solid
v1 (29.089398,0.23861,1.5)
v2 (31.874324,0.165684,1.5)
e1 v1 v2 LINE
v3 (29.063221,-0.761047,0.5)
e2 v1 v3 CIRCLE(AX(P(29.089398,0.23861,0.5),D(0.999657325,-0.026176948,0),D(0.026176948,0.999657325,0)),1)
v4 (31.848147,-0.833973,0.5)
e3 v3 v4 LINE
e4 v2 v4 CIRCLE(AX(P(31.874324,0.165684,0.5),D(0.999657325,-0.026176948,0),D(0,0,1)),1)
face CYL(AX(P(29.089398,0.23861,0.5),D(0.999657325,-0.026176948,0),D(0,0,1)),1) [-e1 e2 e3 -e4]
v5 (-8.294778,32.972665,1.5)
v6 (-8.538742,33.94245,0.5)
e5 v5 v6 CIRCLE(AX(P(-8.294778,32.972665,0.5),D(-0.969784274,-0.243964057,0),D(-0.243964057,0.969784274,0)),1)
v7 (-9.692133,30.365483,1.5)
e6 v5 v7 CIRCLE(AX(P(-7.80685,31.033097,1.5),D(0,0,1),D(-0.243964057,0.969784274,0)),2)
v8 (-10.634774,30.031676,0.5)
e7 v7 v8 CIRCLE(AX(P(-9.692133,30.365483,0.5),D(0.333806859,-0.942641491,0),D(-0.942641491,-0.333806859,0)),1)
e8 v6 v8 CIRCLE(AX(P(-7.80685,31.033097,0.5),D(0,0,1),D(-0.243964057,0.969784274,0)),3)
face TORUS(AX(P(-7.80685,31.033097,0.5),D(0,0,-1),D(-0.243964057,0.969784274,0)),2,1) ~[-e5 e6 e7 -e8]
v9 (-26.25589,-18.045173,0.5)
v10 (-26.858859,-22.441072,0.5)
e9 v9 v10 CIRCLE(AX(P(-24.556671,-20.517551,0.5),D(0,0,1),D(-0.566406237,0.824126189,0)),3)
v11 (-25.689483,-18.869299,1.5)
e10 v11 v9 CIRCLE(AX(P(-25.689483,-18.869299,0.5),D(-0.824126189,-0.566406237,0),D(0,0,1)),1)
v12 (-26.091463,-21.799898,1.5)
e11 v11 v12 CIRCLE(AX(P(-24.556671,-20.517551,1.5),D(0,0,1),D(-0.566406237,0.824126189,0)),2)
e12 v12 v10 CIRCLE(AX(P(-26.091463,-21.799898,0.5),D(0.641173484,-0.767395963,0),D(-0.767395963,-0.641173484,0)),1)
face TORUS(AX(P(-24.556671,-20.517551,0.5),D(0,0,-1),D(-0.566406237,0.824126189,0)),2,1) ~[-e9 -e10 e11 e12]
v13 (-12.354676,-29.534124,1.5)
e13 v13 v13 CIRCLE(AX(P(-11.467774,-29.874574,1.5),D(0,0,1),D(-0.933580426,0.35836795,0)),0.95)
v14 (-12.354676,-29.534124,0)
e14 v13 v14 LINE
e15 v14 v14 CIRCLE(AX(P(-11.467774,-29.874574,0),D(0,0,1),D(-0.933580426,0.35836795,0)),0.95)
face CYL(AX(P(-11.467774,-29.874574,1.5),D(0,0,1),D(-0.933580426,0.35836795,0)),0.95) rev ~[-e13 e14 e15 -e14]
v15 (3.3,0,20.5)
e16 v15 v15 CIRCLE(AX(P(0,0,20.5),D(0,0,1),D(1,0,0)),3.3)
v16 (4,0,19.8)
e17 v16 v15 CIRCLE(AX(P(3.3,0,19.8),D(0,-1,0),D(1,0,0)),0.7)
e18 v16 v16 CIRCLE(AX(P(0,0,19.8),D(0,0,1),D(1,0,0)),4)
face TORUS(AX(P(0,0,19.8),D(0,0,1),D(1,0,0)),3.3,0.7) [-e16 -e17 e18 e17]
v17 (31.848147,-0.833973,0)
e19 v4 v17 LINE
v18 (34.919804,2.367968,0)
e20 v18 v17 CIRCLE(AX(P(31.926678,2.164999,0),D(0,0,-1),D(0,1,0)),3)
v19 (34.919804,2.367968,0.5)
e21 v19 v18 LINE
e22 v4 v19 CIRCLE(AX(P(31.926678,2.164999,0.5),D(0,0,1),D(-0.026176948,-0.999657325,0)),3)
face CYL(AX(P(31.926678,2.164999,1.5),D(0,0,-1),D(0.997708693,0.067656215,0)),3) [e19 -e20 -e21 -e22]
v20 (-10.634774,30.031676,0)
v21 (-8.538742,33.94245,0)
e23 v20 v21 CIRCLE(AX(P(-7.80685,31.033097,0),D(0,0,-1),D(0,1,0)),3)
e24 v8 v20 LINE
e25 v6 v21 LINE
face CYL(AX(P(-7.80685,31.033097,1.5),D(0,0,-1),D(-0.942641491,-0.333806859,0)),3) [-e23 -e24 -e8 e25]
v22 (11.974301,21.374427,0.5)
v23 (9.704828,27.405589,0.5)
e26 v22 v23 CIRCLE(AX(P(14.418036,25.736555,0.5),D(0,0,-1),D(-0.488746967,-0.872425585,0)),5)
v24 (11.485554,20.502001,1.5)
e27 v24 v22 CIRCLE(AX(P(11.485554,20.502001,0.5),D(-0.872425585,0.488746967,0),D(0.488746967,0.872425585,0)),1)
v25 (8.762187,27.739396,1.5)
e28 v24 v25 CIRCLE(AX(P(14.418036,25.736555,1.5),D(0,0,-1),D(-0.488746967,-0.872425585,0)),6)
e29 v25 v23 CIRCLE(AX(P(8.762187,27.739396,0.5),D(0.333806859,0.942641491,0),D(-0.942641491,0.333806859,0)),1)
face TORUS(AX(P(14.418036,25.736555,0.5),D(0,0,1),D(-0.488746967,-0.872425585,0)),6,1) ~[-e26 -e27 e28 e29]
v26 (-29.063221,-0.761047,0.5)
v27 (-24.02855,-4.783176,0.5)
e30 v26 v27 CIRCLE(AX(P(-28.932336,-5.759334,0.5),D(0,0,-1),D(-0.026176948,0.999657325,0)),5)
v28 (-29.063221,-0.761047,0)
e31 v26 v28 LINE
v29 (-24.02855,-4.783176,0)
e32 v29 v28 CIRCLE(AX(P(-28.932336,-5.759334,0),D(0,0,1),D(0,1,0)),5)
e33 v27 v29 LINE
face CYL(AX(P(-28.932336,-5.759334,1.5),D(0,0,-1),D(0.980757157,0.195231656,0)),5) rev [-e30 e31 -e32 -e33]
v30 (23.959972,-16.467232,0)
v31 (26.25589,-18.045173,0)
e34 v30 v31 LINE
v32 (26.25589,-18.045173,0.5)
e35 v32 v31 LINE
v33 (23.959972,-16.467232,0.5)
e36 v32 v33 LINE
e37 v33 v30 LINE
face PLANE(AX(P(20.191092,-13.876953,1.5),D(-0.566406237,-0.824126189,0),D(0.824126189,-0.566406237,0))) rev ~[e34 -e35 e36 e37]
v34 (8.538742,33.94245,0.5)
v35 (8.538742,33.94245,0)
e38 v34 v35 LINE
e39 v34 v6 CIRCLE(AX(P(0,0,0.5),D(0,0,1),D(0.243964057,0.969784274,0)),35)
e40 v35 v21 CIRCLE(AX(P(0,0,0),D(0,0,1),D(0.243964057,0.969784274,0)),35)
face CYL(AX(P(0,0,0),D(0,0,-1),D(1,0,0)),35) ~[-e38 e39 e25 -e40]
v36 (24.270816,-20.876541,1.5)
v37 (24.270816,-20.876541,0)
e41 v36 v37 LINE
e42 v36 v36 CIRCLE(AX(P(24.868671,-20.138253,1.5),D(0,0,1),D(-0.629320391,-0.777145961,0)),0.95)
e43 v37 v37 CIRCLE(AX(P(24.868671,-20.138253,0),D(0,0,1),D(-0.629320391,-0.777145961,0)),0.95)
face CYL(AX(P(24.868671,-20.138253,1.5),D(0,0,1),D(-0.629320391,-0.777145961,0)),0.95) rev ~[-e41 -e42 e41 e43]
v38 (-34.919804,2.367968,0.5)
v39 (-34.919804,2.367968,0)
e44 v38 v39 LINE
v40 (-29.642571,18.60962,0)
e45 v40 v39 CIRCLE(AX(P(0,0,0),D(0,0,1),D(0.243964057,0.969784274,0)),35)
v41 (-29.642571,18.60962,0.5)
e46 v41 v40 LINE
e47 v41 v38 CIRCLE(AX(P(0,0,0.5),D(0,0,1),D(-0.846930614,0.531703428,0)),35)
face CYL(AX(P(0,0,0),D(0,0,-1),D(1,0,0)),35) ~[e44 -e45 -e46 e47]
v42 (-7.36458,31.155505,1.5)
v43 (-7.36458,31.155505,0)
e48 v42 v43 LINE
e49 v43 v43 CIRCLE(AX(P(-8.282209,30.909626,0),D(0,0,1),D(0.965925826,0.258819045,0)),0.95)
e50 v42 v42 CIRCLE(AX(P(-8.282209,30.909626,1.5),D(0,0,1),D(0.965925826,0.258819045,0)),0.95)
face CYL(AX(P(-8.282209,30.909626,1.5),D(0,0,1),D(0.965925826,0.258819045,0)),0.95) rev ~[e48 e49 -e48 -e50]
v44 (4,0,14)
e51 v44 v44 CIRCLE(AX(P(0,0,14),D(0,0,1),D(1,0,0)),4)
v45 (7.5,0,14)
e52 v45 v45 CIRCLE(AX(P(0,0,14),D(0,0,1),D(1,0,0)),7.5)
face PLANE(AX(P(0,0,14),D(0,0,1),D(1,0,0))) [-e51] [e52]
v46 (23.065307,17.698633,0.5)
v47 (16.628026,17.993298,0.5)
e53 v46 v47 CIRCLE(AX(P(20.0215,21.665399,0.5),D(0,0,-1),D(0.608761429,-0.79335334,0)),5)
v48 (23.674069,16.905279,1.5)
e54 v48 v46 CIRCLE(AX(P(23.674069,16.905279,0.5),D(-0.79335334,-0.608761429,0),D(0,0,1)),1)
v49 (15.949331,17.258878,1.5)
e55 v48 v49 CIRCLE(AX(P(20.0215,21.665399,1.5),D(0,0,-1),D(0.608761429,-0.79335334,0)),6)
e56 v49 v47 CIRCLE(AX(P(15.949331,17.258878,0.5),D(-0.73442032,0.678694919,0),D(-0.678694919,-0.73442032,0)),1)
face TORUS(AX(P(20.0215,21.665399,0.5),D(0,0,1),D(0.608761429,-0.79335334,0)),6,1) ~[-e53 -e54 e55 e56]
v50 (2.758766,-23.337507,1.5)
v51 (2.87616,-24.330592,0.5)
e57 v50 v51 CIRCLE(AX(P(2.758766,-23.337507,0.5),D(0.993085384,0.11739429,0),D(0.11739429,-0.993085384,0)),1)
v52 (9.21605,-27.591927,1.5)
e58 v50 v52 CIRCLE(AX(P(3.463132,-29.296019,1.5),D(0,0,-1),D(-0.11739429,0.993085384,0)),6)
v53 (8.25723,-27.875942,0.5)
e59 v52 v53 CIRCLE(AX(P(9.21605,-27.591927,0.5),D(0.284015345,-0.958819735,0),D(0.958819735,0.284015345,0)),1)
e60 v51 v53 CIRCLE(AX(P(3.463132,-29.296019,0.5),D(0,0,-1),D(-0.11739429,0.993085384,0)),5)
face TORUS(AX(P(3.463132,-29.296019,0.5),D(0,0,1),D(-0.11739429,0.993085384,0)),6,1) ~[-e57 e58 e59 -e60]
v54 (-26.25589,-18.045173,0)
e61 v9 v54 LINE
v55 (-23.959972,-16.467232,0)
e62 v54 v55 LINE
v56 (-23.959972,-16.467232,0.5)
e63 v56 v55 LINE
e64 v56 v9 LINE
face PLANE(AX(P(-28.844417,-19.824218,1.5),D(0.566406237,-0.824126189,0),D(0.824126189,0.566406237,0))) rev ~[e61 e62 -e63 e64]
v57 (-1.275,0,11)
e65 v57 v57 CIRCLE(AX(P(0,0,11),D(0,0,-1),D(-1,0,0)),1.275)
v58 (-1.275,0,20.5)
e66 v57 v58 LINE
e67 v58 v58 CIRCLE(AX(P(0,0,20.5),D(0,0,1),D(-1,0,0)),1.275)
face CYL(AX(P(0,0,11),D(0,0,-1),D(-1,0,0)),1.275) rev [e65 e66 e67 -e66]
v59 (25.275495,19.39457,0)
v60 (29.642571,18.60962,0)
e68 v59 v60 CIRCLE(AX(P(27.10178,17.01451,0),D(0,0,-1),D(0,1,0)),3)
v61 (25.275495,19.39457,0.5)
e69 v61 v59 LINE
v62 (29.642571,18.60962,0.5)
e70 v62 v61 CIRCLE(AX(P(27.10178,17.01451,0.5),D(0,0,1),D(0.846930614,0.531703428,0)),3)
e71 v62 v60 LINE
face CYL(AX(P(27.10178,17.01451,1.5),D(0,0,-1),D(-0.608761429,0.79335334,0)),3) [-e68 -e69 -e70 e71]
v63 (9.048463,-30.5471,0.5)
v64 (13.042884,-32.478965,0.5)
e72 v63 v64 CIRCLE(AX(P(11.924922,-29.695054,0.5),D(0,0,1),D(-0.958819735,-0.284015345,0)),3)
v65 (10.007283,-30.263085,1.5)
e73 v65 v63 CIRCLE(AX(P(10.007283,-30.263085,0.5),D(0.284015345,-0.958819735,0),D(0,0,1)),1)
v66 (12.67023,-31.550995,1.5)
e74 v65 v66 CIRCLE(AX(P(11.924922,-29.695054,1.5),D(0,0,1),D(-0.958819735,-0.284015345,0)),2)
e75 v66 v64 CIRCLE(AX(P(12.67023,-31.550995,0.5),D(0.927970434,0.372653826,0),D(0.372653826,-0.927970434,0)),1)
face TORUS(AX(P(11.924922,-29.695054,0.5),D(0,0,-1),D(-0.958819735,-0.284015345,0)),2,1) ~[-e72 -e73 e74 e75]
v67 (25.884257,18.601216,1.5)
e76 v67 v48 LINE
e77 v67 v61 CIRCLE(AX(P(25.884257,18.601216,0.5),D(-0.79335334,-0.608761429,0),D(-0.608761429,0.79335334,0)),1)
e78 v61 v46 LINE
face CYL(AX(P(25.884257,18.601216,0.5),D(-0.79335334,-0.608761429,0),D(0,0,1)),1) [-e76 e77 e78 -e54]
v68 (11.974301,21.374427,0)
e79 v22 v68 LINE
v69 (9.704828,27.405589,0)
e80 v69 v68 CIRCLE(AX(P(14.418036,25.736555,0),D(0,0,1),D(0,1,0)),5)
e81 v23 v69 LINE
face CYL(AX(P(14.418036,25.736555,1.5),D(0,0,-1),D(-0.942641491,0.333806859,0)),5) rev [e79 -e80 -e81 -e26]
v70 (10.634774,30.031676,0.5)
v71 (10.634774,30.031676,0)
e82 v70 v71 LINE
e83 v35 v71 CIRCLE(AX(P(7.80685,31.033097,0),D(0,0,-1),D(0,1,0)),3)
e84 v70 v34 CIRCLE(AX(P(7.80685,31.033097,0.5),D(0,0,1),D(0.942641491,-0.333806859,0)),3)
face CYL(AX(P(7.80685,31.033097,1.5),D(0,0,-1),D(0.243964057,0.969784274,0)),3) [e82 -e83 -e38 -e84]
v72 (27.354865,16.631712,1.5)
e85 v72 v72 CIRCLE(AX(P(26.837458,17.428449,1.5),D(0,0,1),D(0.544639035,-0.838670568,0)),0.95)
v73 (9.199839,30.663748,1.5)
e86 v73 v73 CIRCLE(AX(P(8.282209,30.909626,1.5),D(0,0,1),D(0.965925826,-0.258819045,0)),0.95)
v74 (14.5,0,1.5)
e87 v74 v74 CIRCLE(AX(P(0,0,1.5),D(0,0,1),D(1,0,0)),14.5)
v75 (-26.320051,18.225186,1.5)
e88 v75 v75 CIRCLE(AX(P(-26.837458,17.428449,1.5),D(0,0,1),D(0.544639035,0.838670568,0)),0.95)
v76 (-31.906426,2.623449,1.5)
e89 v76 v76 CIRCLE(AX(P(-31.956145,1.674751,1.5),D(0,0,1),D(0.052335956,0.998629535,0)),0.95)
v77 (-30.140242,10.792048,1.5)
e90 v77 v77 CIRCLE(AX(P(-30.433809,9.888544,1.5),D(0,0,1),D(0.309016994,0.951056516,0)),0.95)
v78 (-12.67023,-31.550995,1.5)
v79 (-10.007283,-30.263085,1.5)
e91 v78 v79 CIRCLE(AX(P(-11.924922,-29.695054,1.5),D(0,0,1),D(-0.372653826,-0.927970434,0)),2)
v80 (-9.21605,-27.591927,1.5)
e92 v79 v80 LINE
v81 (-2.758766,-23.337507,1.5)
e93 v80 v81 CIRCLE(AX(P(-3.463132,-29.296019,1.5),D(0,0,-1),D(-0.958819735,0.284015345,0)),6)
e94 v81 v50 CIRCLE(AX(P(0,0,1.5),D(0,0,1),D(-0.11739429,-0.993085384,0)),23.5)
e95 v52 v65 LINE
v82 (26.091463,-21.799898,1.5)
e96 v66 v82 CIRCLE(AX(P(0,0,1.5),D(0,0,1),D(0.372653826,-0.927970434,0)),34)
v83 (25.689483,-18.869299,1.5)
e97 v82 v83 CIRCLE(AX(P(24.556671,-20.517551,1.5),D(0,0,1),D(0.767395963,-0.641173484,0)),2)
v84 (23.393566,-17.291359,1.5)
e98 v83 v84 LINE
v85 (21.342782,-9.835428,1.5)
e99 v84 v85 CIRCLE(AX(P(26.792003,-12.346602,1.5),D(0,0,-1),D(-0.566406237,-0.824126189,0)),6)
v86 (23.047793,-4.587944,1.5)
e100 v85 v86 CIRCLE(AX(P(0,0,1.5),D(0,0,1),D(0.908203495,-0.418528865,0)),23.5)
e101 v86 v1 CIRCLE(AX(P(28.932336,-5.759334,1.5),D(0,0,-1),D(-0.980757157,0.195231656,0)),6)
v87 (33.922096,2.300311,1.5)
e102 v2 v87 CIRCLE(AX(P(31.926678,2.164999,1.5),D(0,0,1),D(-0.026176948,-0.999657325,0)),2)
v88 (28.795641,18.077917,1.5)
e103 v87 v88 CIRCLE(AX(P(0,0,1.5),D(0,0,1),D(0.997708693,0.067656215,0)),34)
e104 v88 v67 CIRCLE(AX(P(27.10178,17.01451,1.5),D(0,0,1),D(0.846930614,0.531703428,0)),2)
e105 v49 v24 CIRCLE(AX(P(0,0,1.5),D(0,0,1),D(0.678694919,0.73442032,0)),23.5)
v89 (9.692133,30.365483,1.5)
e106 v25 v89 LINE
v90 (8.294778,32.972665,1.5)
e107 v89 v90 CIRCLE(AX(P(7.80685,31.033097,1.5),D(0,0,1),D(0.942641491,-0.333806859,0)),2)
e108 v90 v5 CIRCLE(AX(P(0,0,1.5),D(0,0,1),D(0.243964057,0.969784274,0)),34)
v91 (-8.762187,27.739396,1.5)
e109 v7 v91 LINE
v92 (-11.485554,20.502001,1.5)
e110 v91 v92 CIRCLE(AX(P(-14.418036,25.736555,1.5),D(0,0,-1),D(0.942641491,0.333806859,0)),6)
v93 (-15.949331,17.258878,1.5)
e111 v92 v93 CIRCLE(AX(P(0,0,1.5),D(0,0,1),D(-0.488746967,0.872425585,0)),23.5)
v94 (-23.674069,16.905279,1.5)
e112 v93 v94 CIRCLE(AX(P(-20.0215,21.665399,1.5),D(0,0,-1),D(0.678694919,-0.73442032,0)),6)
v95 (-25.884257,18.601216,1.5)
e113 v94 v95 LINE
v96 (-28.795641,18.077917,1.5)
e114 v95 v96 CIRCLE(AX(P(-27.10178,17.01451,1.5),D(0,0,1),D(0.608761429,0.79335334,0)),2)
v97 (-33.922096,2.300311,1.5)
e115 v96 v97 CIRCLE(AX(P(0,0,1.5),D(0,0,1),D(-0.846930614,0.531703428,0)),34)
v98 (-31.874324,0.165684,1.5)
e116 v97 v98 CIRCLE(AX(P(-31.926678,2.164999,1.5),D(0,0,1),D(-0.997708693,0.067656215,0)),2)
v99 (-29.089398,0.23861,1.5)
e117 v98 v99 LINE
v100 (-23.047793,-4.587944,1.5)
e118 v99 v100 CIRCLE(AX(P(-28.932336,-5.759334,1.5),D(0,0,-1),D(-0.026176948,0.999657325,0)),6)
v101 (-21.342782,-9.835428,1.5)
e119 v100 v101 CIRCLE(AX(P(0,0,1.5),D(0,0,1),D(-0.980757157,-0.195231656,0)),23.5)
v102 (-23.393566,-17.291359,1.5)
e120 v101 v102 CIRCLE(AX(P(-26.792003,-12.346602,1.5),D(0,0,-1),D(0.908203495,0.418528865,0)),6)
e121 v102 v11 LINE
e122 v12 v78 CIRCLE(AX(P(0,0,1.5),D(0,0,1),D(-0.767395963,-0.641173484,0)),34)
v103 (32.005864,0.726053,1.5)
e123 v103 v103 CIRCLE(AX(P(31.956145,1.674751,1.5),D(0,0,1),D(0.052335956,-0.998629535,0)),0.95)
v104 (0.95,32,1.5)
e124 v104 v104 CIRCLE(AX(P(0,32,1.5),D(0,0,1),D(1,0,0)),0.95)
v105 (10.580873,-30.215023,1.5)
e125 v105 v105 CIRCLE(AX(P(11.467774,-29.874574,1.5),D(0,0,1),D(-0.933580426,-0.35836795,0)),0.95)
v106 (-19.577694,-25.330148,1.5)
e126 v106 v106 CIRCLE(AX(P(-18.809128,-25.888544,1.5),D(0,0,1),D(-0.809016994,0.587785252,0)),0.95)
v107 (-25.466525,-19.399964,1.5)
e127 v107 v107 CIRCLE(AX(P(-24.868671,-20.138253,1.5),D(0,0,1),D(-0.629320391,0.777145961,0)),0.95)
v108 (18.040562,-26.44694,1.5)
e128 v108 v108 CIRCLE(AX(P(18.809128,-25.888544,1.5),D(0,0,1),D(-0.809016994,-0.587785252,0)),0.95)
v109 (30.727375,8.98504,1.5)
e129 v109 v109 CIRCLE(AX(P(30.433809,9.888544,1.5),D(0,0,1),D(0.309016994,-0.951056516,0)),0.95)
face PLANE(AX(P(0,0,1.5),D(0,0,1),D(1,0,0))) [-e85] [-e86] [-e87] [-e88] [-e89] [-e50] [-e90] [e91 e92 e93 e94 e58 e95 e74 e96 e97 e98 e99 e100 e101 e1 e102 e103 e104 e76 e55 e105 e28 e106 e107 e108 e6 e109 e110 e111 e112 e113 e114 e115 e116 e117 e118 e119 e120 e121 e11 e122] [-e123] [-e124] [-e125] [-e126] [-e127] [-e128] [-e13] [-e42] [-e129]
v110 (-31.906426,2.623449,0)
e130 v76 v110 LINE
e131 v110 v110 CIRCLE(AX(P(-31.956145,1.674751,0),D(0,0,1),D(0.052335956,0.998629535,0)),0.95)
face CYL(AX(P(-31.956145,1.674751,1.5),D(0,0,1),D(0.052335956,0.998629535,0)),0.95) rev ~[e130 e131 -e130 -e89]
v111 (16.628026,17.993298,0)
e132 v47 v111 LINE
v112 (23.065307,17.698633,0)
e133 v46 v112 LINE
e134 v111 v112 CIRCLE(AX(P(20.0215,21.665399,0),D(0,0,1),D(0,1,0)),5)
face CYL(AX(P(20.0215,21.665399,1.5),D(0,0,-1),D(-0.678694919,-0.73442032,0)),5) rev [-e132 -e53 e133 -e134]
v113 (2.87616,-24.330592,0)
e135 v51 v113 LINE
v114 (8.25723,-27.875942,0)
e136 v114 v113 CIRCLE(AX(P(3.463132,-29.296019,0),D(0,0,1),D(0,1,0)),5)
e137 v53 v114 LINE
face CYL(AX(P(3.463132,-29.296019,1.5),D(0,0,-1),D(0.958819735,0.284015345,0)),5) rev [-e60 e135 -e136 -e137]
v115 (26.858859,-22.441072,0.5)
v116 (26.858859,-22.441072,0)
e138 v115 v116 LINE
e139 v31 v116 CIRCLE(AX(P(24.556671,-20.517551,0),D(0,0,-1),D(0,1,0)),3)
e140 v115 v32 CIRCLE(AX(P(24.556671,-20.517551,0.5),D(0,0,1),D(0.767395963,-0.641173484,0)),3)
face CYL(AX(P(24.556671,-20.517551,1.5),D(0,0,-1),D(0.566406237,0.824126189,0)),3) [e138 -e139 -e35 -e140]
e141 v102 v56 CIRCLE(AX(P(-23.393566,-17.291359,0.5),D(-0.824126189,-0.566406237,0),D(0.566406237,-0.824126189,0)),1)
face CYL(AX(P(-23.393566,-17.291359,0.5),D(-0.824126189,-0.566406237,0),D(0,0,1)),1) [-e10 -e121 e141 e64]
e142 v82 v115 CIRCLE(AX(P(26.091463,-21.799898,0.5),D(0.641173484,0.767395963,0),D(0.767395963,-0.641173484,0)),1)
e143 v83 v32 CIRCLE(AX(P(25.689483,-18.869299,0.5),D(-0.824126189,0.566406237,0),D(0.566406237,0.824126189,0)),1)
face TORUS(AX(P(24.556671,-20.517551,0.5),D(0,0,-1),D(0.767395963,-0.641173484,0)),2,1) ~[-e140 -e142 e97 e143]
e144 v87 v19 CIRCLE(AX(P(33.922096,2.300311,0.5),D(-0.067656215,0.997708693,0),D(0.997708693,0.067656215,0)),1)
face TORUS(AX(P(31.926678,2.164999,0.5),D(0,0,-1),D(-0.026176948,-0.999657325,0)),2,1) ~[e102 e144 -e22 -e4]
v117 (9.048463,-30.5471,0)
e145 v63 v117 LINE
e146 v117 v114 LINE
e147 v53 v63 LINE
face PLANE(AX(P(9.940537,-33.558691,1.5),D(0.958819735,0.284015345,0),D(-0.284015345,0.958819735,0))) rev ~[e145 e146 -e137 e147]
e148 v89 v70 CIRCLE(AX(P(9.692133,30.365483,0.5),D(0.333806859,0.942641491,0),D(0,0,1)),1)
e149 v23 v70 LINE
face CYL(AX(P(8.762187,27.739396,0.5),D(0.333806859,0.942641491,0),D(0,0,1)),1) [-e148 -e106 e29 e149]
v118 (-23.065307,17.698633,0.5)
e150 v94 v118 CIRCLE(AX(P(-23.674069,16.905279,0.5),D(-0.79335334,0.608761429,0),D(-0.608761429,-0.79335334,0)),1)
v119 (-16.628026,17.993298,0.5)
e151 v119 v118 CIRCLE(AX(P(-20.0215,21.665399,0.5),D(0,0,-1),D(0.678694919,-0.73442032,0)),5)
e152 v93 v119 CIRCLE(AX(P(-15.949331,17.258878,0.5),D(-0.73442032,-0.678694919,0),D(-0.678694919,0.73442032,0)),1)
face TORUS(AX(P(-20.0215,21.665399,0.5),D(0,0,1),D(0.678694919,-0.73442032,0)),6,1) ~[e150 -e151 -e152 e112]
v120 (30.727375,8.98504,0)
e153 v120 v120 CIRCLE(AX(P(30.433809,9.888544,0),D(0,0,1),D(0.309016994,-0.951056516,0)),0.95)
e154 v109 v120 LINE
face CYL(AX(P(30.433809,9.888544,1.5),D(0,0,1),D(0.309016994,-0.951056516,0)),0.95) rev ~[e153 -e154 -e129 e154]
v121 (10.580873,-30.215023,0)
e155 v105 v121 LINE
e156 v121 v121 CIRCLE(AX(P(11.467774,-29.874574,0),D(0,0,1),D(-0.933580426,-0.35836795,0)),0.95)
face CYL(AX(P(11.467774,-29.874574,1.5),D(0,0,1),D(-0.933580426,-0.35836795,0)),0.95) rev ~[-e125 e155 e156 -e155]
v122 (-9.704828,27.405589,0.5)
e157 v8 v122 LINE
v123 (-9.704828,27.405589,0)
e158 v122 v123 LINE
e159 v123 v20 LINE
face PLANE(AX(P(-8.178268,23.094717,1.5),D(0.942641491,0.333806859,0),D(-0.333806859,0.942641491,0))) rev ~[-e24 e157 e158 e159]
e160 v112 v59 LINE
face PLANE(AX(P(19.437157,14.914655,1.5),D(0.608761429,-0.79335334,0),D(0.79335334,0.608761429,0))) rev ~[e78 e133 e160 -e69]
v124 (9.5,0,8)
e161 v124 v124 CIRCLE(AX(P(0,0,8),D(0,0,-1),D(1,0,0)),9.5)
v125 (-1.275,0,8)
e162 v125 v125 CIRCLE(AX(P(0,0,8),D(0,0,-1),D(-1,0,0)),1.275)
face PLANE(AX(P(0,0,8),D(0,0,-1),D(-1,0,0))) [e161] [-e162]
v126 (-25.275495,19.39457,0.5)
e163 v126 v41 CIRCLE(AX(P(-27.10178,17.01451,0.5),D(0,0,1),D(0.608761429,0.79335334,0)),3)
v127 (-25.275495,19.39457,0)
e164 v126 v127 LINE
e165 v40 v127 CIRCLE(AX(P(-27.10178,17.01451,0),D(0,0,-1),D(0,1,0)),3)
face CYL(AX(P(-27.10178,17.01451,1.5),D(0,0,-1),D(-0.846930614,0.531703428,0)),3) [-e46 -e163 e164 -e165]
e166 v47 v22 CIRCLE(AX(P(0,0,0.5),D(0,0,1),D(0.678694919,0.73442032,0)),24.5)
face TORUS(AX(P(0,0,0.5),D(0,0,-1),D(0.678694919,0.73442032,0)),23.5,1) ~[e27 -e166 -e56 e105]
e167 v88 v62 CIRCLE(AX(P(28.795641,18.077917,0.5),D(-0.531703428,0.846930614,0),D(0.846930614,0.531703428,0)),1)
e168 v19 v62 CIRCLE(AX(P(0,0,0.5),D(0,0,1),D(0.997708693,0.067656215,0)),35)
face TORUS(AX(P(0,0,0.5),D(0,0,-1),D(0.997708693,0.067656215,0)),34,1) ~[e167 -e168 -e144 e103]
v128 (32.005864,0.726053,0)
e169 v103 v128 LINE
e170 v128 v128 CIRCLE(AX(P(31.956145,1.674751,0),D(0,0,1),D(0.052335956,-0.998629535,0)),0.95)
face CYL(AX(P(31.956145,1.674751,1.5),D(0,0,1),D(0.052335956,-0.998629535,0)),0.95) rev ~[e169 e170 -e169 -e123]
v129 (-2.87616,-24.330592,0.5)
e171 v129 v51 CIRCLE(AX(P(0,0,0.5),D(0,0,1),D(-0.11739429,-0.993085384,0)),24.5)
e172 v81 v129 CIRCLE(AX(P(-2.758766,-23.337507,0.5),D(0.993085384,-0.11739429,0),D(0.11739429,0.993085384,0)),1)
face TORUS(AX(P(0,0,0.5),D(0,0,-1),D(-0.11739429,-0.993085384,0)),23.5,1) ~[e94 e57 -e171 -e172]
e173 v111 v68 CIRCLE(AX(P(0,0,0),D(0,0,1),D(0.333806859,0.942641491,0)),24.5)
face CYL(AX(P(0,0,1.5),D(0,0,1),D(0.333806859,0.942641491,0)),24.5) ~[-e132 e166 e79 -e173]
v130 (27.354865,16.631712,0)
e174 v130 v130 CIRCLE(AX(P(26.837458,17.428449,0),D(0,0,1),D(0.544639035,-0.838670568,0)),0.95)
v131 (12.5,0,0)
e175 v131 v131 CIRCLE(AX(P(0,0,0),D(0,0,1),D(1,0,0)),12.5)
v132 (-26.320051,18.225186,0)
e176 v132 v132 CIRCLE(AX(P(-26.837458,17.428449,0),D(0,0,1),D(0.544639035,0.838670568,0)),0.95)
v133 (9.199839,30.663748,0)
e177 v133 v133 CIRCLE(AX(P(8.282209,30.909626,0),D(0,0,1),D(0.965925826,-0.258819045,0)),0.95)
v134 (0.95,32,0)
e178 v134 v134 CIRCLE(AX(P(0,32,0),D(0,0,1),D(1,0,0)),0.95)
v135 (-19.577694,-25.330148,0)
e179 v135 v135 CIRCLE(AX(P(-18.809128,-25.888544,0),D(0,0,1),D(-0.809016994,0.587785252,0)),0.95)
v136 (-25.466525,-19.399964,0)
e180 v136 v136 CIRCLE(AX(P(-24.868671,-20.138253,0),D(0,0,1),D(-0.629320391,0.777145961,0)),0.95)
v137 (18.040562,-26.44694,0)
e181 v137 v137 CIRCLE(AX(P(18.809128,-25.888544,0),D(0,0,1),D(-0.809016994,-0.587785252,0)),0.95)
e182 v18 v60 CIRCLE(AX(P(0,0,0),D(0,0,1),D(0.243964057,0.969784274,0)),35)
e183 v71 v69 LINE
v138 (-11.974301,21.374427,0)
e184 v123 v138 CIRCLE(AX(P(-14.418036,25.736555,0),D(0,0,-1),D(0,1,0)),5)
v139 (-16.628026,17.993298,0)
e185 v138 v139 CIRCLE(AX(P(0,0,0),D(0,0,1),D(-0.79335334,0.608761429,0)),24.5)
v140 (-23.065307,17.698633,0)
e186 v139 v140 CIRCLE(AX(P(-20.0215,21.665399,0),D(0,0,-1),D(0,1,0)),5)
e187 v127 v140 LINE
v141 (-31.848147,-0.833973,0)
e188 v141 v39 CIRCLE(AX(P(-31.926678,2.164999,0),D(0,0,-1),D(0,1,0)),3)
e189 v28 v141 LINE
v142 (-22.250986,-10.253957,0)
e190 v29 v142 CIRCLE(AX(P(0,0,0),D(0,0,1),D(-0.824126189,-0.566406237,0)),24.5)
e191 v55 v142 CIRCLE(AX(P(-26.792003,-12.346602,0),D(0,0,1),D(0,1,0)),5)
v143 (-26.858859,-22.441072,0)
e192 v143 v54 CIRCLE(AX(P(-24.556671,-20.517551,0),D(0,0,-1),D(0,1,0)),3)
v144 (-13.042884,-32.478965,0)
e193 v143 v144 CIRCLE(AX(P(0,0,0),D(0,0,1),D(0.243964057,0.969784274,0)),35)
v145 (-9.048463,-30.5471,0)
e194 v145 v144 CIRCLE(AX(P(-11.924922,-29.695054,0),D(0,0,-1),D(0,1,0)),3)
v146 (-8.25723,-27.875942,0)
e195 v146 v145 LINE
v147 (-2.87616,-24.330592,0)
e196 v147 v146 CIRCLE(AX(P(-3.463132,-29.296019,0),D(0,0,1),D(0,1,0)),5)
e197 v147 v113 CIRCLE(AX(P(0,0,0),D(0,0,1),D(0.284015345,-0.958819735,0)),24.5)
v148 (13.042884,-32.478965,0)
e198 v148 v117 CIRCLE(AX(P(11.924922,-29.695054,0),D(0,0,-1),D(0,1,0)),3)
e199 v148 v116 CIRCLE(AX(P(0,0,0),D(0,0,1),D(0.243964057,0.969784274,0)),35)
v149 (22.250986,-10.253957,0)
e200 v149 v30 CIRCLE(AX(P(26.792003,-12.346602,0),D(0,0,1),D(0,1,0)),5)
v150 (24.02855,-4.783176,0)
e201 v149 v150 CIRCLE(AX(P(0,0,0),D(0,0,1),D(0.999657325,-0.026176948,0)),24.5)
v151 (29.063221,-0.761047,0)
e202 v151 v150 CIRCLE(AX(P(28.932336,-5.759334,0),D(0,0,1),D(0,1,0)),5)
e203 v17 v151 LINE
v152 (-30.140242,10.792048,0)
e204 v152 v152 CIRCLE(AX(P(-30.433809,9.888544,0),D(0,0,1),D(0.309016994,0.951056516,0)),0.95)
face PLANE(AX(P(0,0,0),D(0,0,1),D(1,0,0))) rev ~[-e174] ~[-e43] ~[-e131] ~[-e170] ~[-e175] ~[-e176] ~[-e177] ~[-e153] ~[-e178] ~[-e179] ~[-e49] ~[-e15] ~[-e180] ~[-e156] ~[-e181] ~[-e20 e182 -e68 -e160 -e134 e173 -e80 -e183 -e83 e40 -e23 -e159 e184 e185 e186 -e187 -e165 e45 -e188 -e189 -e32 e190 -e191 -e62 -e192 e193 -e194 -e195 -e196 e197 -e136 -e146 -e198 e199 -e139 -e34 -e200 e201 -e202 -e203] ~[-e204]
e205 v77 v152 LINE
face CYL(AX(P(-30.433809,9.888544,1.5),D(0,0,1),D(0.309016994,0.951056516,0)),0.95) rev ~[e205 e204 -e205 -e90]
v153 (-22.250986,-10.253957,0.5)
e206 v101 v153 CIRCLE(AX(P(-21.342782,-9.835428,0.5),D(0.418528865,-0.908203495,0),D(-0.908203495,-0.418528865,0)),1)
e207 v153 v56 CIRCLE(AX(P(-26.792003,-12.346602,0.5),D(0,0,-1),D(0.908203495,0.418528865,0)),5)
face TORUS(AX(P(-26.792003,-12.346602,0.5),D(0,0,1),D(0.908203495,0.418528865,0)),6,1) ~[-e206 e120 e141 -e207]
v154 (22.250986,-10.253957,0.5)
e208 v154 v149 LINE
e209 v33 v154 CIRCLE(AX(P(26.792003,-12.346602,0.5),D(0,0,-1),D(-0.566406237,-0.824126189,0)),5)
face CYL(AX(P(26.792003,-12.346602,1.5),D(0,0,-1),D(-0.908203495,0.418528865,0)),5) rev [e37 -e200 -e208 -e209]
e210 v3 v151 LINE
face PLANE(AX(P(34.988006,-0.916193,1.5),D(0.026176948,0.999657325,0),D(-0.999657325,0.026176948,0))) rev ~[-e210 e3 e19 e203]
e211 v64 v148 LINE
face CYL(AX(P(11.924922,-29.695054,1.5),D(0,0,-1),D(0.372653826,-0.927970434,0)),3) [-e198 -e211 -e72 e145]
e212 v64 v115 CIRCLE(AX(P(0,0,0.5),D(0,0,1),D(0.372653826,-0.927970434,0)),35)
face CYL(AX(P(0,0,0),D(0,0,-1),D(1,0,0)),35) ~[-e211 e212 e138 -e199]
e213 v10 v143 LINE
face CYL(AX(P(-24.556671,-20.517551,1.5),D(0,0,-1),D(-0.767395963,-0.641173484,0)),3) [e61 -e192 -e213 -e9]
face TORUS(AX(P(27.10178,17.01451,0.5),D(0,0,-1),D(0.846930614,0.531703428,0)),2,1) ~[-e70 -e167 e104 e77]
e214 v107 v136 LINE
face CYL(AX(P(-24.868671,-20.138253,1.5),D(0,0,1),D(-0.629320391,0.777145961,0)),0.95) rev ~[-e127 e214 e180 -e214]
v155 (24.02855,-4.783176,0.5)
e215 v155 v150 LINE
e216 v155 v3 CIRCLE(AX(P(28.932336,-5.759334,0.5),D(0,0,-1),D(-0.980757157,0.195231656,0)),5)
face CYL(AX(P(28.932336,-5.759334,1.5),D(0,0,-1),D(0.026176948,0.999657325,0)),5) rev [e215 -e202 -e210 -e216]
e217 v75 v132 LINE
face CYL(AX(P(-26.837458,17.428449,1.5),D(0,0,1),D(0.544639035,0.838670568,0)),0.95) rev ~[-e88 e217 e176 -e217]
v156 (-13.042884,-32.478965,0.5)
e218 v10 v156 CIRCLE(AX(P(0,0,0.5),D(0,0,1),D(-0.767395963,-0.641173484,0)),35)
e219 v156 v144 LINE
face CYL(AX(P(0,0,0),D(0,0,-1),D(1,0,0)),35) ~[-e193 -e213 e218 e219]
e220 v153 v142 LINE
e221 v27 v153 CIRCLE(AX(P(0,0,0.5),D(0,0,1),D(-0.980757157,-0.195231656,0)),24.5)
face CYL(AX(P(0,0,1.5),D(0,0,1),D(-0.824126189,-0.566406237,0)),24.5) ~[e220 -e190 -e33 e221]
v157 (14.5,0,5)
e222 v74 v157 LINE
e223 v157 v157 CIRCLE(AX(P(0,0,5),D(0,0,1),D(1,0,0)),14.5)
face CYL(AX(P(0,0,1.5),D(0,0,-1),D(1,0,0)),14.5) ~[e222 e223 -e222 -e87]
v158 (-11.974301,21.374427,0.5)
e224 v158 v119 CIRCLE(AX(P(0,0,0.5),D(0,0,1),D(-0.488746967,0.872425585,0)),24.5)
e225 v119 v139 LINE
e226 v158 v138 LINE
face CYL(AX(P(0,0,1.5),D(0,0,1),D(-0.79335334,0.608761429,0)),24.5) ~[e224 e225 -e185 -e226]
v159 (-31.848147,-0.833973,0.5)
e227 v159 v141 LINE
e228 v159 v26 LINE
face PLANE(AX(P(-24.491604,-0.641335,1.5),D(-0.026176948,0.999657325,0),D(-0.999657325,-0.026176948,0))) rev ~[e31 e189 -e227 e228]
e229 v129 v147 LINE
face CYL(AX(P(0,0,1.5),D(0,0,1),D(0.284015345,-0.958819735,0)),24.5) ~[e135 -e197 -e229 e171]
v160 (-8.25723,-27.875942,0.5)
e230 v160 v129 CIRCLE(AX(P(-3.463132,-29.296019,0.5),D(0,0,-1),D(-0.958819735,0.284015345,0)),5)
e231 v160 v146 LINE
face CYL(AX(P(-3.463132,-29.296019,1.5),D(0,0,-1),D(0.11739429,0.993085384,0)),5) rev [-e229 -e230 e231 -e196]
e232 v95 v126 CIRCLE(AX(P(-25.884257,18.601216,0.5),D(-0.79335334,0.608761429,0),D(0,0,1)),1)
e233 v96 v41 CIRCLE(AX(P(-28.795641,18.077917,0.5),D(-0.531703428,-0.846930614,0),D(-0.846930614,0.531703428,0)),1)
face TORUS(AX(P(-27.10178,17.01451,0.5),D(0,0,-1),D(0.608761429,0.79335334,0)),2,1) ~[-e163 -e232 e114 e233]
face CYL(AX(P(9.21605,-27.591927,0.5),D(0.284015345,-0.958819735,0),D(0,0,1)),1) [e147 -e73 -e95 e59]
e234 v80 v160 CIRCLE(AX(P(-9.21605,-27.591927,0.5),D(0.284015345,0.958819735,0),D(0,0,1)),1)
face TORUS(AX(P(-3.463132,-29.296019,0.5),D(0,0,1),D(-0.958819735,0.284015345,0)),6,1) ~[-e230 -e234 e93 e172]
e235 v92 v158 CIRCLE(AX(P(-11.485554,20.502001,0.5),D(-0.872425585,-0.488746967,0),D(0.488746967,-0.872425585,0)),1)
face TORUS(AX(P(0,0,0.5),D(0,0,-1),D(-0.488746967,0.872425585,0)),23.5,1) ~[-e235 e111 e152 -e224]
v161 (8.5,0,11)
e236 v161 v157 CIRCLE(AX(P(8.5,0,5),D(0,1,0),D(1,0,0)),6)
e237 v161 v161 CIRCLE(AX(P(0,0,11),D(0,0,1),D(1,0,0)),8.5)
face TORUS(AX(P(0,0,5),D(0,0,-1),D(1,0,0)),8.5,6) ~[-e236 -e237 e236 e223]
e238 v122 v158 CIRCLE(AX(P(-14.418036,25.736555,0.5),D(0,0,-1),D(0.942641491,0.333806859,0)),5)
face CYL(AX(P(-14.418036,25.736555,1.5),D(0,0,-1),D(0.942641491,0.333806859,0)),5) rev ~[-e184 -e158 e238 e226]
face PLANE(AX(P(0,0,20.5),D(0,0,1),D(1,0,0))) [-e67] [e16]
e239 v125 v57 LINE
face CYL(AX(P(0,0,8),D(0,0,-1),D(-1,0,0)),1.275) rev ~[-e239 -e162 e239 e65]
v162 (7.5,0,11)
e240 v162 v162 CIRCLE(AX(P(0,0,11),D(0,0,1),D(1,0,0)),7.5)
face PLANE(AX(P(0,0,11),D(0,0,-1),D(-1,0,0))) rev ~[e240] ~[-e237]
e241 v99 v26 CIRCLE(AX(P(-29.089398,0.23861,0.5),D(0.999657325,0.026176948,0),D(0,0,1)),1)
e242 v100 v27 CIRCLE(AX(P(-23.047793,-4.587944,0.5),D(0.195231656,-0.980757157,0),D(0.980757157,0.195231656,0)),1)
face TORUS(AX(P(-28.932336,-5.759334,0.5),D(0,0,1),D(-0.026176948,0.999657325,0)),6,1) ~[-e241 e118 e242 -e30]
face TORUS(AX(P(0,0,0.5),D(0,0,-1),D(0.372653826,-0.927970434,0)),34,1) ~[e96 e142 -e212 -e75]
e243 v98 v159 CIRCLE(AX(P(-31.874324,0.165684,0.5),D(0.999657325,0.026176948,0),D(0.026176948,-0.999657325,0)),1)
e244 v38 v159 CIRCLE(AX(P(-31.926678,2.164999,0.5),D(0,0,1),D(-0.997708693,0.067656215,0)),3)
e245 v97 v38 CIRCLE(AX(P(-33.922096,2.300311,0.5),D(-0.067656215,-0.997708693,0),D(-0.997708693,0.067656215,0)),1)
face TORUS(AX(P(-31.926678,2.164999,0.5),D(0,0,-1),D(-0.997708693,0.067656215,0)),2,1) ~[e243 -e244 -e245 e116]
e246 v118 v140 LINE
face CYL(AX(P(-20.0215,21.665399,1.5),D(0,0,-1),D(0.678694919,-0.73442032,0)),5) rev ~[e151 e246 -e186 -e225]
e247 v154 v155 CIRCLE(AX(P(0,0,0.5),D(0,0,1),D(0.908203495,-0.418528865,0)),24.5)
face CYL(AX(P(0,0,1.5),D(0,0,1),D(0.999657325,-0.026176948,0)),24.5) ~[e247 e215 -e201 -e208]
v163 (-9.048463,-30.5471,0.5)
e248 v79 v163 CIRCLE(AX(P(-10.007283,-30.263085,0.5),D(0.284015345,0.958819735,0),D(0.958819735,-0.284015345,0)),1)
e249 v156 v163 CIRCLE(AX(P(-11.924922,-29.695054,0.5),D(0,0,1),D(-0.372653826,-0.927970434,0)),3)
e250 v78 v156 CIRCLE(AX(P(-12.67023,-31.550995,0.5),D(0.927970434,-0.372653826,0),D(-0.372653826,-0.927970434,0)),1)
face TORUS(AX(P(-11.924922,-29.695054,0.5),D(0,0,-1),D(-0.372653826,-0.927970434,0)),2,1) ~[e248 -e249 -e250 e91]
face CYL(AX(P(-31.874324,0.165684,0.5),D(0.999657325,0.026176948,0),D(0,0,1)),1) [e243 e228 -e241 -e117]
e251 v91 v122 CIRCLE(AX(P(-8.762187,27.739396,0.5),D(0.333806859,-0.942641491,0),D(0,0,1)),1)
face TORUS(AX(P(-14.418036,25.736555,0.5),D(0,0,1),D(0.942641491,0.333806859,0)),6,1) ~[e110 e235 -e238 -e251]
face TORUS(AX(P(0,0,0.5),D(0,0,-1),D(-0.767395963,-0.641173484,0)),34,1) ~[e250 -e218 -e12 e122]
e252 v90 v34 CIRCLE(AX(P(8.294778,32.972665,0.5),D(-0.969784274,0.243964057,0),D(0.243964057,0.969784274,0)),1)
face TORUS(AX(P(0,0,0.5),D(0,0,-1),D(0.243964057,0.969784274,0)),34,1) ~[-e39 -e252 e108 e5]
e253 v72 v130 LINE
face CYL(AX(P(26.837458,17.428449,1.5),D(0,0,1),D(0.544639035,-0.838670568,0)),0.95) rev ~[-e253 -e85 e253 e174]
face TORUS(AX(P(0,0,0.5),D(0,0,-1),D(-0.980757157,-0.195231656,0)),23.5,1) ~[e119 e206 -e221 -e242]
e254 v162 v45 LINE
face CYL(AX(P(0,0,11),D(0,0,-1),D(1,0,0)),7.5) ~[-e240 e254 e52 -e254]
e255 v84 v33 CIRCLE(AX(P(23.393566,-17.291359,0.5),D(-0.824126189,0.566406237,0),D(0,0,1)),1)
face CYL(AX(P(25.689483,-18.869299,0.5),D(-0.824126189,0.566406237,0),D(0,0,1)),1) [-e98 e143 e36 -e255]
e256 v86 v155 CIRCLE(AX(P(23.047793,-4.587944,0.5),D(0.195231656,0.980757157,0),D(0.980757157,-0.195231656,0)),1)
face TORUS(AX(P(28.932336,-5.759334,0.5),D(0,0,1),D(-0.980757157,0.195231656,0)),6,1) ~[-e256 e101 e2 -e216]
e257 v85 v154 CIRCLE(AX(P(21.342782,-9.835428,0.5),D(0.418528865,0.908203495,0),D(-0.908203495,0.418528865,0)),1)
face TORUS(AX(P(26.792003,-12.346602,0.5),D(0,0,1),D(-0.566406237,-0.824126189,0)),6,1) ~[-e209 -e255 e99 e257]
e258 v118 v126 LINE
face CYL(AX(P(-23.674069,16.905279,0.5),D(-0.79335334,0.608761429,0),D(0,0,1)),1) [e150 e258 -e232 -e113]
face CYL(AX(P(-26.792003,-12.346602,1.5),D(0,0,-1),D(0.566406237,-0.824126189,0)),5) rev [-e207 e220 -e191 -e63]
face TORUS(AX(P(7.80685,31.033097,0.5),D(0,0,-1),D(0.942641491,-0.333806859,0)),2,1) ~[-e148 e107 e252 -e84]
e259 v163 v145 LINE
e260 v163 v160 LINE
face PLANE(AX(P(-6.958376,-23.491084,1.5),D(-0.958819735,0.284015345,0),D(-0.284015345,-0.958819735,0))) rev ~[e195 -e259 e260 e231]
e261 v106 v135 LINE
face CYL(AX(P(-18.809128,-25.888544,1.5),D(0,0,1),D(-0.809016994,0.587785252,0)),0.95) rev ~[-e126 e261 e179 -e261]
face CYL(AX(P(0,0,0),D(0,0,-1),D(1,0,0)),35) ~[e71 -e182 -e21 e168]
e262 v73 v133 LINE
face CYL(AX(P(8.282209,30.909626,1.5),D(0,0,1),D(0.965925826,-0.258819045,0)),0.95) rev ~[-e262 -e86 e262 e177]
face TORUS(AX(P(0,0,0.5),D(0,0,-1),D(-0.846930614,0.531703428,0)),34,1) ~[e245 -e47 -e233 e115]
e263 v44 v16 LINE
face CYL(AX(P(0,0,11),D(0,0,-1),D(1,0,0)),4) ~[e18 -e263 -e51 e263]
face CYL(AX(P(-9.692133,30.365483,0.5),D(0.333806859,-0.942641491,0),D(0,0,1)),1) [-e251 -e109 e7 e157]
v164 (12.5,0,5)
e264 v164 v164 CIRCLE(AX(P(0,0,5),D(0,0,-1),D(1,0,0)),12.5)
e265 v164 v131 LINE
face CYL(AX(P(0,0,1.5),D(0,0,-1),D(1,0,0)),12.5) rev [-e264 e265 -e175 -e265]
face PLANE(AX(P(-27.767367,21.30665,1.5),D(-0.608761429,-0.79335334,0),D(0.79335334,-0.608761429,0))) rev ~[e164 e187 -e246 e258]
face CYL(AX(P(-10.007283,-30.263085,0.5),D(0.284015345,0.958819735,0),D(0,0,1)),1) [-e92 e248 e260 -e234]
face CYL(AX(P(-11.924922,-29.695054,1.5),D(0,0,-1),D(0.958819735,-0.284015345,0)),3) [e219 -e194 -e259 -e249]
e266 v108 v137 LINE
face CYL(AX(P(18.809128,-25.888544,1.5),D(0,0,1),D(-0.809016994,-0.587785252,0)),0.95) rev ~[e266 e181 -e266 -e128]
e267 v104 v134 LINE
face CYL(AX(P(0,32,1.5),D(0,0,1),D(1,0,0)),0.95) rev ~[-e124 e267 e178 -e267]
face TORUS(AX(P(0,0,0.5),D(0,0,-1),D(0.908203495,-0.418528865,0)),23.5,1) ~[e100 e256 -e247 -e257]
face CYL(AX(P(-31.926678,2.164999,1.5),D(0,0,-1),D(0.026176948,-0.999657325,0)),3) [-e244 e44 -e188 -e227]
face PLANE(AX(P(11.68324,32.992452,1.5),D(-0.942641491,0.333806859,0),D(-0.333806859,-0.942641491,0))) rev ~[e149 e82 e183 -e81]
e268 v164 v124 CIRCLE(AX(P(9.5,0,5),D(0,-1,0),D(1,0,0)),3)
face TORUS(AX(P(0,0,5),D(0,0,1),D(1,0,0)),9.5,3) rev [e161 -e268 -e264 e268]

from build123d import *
from build123d.topology import SkipClean

# Parameters (mm, degrees)
SKETCH1_R                   = 35
SKETCH1_R_2                 = 12.5
BOSS_EXTRUDE1_DEPTH         = 1.5
SKETCH5_R                   = 0.95
CUT_EXTRUDE1_DEPTH          = 50.520197899
CIRPATTERN4_COUNT           = 2
CIRPATTERN4_ANGLE           = 15
CIRPATTERN3_COUNT           = 2
CIRPATTERN3_ANGLE           = 15
SKETCH2_R                   = 14.5
SKETCH2_R_2                 = 12.5
EXTRUDE_THIN1_DEPTH         = 9.5
CIRPATTERN1_COUNT           = 5
CIRPATTERN1_COPY_1_SKETCH_R = 0.95
CIRPATTERN1_COPY_1_DEPTH    = 50.520197899
CIRPATTERN1_COPY_2_SKETCH_R = 0.95
CIRPATTERN1_COPY_2_DEPTH    = 50.520197899
CIRPATTERN1_COPY_3_SKETCH_R = 0.95
CIRPATTERN1_COPY_3_DEPTH    = 50.520197899
CIRPATTERN1_COPY_4_SKETCH_R = 0.95
CIRPATTERN1_COPY_4_DEPTH    = 50.520197899
CIRPATTERN1_COPY_5_SKETCH_R = 0.95
CIRPATTERN1_COPY_5_DEPTH    = 50.520197899
CIRPATTERN1_COPY_6_SKETCH_R = 0.95
CIRPATTERN1_COPY_6_DEPTH    = 50.520197899
CIRPATTERN1_COPY_7_SKETCH_R = 0.95
CIRPATTERN1_COPY_7_DEPTH    = 50.520197899
CIRPATTERN1_COPY_8_SKETCH_R = 0.95
CIRPATTERN1_COPY_8_DEPTH    = 50.520197899
BOSS_EXTRUDE2_START         = -8
SKETCH3_R                   = 12.5
SKETCH3_R_2                 = 1.275
BOSS_EXTRUDE2_DEPTH         = 3
FILLET1_R                   = 3
FILLET2_R                   = 6
SKETCH6_R                   = 4
SKETCH6_R_2                 = 1.275
BOSS_EXTRUDE3_DEPTH         = 9.5
SKETCH7_R                   = 7.5
SKETCH7_R_2                 = 4
BOSS_EXTRUDE4_DEPTH         = 3
CUT_EXTRUDE2_DEPTH          = 54.018864567
FILLET3_R                   = 3
FILLET4_R                   = 5
CIRPATTERN2_COUNT           = 5
FILLET3_OF_CIRPATTERN2_R    = 3
FILLET4_OF_CIRPATTERN2_R    = 5
FILLET5_R                   = 1
FILLET6_R                   = 0.7


with BuildPart() as part:
    # Sketch1 → Boss-Extrude1 (new body)
    with BuildSketch(Plane.XY):
        Circle(SKETCH1_R)
        Circle(SKETCH1_R_2, mode=Mode.SUBTRACT)
    extrude(amount=BOSS_EXTRUDE1_DEPTH)

    # Sketch5 → Cut-Extrude1 (cut, through all)
    with BuildSketch(Plane.XY.offset(1.5)):
        with Locations((0, 32)):
            Circle(SKETCH5_R)
    cut_extrude1 = extrude(amount=-CUT_EXTRUDE1_DEPTH, mode=Mode.SUBTRACT)

    # CirPattern4: Cut-Extrude1 ×2 about axis
    cirpattern4_axis = Axis((0, 0, -88.99), (0, 0, -1))
    for i in range(1, CIRPATTERN4_COUNT):
        add(cut_extrude1.rotate(cirpattern4_axis, i * CIRPATTERN4_ANGLE / (CIRPATTERN4_COUNT - 1)), mode=Mode.SUBTRACT)

    # CirPattern3: Cut-Extrude1 ×2 about axis
    cirpattern3_axis = Axis((0, 0, -88.99), (0, 0, 1))
    for i in range(1, CIRPATTERN3_COUNT):
        add(cut_extrude1.rotate(cirpattern3_axis, i * CIRPATTERN3_ANGLE / (CIRPATTERN3_COUNT - 1)), mode=Mode.SUBTRACT)

    # Sketch2 → Extrude-Thin1 (add)
    with BuildSketch(Plane.XY.offset(1.5)):
        Circle(SKETCH2_R)
        Circle(SKETCH2_R_2, mode=Mode.SUBTRACT)
    extrude(amount=EXTRUDE_THIN1_DEPTH)

    # CirPattern1: Cut-Extrude1 ×5 about axis
    cirpattern1_axis = Axis((0, 0, -88.99), (0, 0, 1))
    for i in range(1, CIRPATTERN1_COUNT):
        add(cut_extrude1.rotate(cirpattern1_axis, i * 360 / CIRPATTERN1_COUNT), mode=Mode.SUBTRACT)

    # CirPattern1 copy 1 sketch → CirPattern1 copy 1 (cut, through all)
    with BuildSketch(Plane(origin=(0, 0, 1.5), x_dir=(0.5446390350150276, 0.8386705679454236, 0), z_dir=(0, 0, 1))):
        with Locations((0, 32)):
            Circle(CIRPATTERN1_COPY_1_SKETCH_R)
    extrude(amount=-CIRPATTERN1_COPY_1_DEPTH, mode=Mode.SUBTRACT)

    # CirPattern1 copy 2 sketch → CirPattern1 copy 2 (cut, through all)
    with BuildSketch(Plane(origin=(0, 0, 1.5), x_dir=(-0.6293203910498368, 0.7771459614569713, 0), z_dir=(0, 0, 1))):
        with Locations((0, 32)):
            Circle(CIRPATTERN1_COPY_2_SKETCH_R)
    extrude(amount=-CIRPATTERN1_COPY_2_DEPTH, mode=Mode.SUBTRACT)

    # CirPattern1 copy 3 sketch → CirPattern1 copy 3 (cut, through all)
    with BuildSketch(Plane(origin=(0, 0, 1.5), x_dir=(-0.9335804264972021, -0.3583679495452995, 0), z_dir=(0, 0, 1))):
        with Locations((0, 32)):
            Circle(CIRPATTERN1_COPY_3_SKETCH_R)
    extrude(amount=-CIRPATTERN1_COPY_3_DEPTH, mode=Mode.SUBTRACT)

    # CirPattern1 copy 4 sketch → CirPattern1 copy 4 (cut, through all)
    with BuildSketch(Plane(origin=(0, 0, 1.5), x_dir=(0.05233595624294293, -0.9986295347545739, 0), z_dir=(0, 0, 1))):
        with Locations((0, 32)):
            Circle(CIRPATTERN1_COPY_4_SKETCH_R)
    extrude(amount=-CIRPATTERN1_COPY_4_DEPTH, mode=Mode.SUBTRACT)

    # CirPattern1 copy 5 sketch → CirPattern1 copy 5 (cut, through all)
    with BuildSketch(Plane(origin=(0, 0, 1.5), x_dir=(0.05233595624294324, 0.9986295347545739, 0), z_dir=(0, 0, 1))):
        with Locations((0, 32)):
            Circle(CIRPATTERN1_COPY_5_SKETCH_R)
    extrude(amount=-CIRPATTERN1_COPY_5_DEPTH, mode=Mode.SUBTRACT)

    # CirPattern1 copy 6 sketch → CirPattern1 copy 6 (cut, through all)
    with BuildSketch(Plane(origin=(0, 0, 1.5), x_dir=(-0.9335804264972019, 0.3583679495452998, 0), z_dir=(0, 0, 1))):
        with Locations((0, 32)):
            Circle(CIRPATTERN1_COPY_6_SKETCH_R)
    extrude(amount=-CIRPATTERN1_COPY_6_DEPTH, mode=Mode.SUBTRACT)

    # CirPattern1 copy 7 sketch → CirPattern1 copy 7 (cut, through all)
    with BuildSketch(Plane(origin=(0, 0, 1.5), x_dir=(-0.6293203910498371, -0.7771459614569711, 0), z_dir=(0, 0, 1))):
        with Locations((0, 32)):
            Circle(CIRPATTERN1_COPY_7_SKETCH_R)
    extrude(amount=-CIRPATTERN1_COPY_7_DEPTH, mode=Mode.SUBTRACT)

    # CirPattern1 copy 8 sketch → CirPattern1 copy 8 (cut, through all)
    with BuildSketch(Plane(origin=(0, 0, 1.5), x_dir=(0.5446390350150274, -0.8386705679454238, 0), z_dir=(0, 0, 1))):
        with Locations((0, 32)):
            Circle(CIRPATTERN1_COPY_8_SKETCH_R)
    extrude(amount=-CIRPATTERN1_COPY_8_DEPTH, mode=Mode.SUBTRACT)

    # Sketch3 → Boss-Extrude2 (add)
    with BuildSketch(Plane(origin=(0, 0, 0), x_dir=(-1, 0, 0), z_dir=(0, 0, -1)).offset(BOSS_EXTRUDE2_START)):
        Circle(SKETCH3_R)
        Circle(SKETCH3_R_2, mode=Mode.SUBTRACT)
    extrude(amount=-BOSS_EXTRUDE2_DEPTH)

    # Fillet1
    fillet1_edges = [part.edges().sort_by_distance(p)[0] for p in [
        (-12.5, 0, 8),
    ]]
    fillet(fillet1_edges, radius=FILLET1_R)

    # Fillet2
    fillet2_edges = [part.edges().sort_by_distance(p)[0] for p in [
        (-14.5, 0, 11),
    ]]
    fillet(fillet2_edges, radius=FILLET2_R)

    # Sketch6 → Boss-Extrude3 (add)
    with SkipClean():  # the faces are left unmerged after this step: merging them gives an invalid solid
        with BuildSketch(Plane.XY.offset(11)):
            Circle(SKETCH6_R)
            Circle(SKETCH6_R_2, mode=Mode.SUBTRACT)
        extrude(amount=BOSS_EXTRUDE3_DEPTH)

    # Sketch7 → Boss-Extrude4 (add)
    with SkipClean():  # the faces are left unmerged after this step: merging them gives an invalid solid
        with BuildSketch(Plane.XY.offset(11)):
            Circle(SKETCH7_R)
            Circle(SKETCH7_R_2, mode=Mode.SUBTRACT)
        extrude(amount=BOSS_EXTRUDE4_DEPTH)

    # Sketch8 → Cut-Extrude2 (cut, through all)
    with SkipClean():  # the faces are left unmerged after this step: merging them gives an invalid solid
        with BuildSketch(Plane.XY.offset(1.5)):
            with BuildLine():
                Line((11.683240073, 32.992452188), (8.178268051, 23.094716532))
                ThreePointArc((8.178268051, 23.094716532), (14.400738681, 19.820916362), (19.437156837, 14.914655011))
                Line((19.437156837, 14.914655011), (27.76736691, 21.306650015))
                ThreePointArc((27.76736691, 21.306650015), (20.57248383, 28.315594803), (11.683240073, 32.992452188))
            make_face()
        cut_extrude2 = extrude(amount=-CUT_EXTRUDE2_DEPTH, mode=Mode.SUBTRACT)

    # Fillet3
    fillet3_edges = [part.edges().sort_by_distance(p)[0] for p in [
        (27.76736691, 21.306650015, 0.75),
        (11.683240073, 32.992452188, 0.75),
    ]]
    fillet(fillet3_edges, radius=FILLET3_R)

    # Fillet4
    fillet4_edges = [part.edges().sort_by_distance(p)[0] for p in [
        (19.437156837, 14.914655011, 0.75),
        (8.178268051, 23.094716532, 0.75),
    ]]
    fillet(fillet4_edges, radius=FILLET4_R)

    # CirPattern2: Cut-Extrude2 ×5 about axis
    cirpattern2_axis = Axis((0, 0, -88.99), (0, 0, 1))
    for i in range(1, CIRPATTERN2_COUNT):
        add(cut_extrude2.rotate(cirpattern2_axis, i * 360 / CIRPATTERN2_COUNT), mode=Mode.SUBTRACT)

    # Fillet3 of CirPattern2
    fillet3_of_cirpattern2_edges = [part.edges().sort_by_distance(p)[0] for p in [
        (-11.683240073, 32.992452188, 0.75),
        (-27.76736691, 21.306650015, 0.75),
        (-34.988006374, -0.916193191, 0.75),
        (-28.844416602, -19.824218292, 0.75),
        (-9.940537065, -33.55869072, 0.75),
        (9.940537065, -33.55869072, 0.75),
        (28.844416602, -19.824218292, 0.75),
        (34.988006374, -0.916193191, 0.75),
    ]]
    fillet(fillet3_of_cirpattern2_edges, radius=FILLET3_OF_CIRPATTERN2_R)

    # Fillet4 of CirPattern2
    fillet4_of_cirpattern2_edges = [part.edges().sort_by_distance(p)[0] for p in [
        (-8.178268051, 23.094716532, 0.75),
        (-19.437156837, 14.914655011, 0.75),
        (-24.491604462, -0.641335234, 0.75),
        (-20.191091621, -13.876952805, 0.75),
        (-6.958375945, -23.491083504, 0.75),
        (6.958375945, -23.491083504, 0.75),
        (20.191091621, -13.876952805, 0.75),
        (24.491604462, -0.641335234, 0.75),
    ]]
    fillet(fillet4_of_cirpattern2_edges, radius=FILLET4_OF_CIRPATTERN2_R)

    # Fillet5
    fillet5_edges = [part.edges().sort_by_distance(p)[0] for p in [
        (-27.632502529, 19.967192075, 1.5),
        (-24.170401306, 18.546601233, 1.5),
        (-19.792865663, 16.670629554, 1.5),
        (-14.400738681, 19.820916362, 1.5),
        (-9.73837901, 23.975641704, 1.5),
        (-10.169801193, 28.718632633, 1.5),
        (-10.451015257, 32.450273273, 1.5),
        (0, 35, 1.5),
        (10.451015257, 32.450273273, 1.5),
        (10.169801193, 28.718632633, 1.5),
        (9.73837901, 23.975641704, 1.5),
        (14.400738681, 19.820916362, 1.5),
        (19.792865663, 16.670629554, 1.5),
        (24.170401306, 18.546601233, 1.5),
        (27.632502529, 19.967192075, 1.5),
        (33.28697807, 10.815594803, 1.5),
        (34.091585174, 0.088179751, 1.5),
        (30.455684102, -0.797510155, 1.5),
        (25.811514887, -1.852868078, 1.5),
        (23.300884649, -7.570916362, 1.5),
        (21.971042725, -13.672626026, 1.5),
        (25.107930722, -17.256202695, 1.5),
        (27.528841014, -20.10986991, 1.5),
        (20.57248383, -28.315594803, 1.5),
        (10.618743111, -32.395775189, 1.5),
        (8.652846733, -29.211521015, 1.5),
        (6.214014491, -25.120777153, 1.5),
        (0, -24.5, 1.5),
        (-6.214014491, -25.120777153, 1.5),
        (-8.652846733, -29.211521015, 1.5),
        (-10.618743111, -32.395775189, 1.5),
        (-20.57248383, -28.315594803, 1.5),
        (-27.528841014, -20.10986991, 1.5),
        (-25.107930722, -17.256202695, 1.5),
        (-21.971042725, -13.672626026, 1.5),
        (-23.300884649, -7.570916362, 1.5),
        (-25.811514887, -1.852868078, 1.5),
        (-30.455684102, -0.797510155, 1.5),
        (-34.091585174, 0.088179751, 1.5),
        (-33.28697807, 10.815594803, 1.5),
    ]]
    fillet(fillet5_edges, radius=FILLET5_R)

    # Fillet6
    fillet6_edges = [part.edges().sort_by_distance(p)[0] for p in [
        (-4, 0, 20.5),
    ]]
    fillet(fillet6_edges, radius=FILLET6_R)


solid = part.part
